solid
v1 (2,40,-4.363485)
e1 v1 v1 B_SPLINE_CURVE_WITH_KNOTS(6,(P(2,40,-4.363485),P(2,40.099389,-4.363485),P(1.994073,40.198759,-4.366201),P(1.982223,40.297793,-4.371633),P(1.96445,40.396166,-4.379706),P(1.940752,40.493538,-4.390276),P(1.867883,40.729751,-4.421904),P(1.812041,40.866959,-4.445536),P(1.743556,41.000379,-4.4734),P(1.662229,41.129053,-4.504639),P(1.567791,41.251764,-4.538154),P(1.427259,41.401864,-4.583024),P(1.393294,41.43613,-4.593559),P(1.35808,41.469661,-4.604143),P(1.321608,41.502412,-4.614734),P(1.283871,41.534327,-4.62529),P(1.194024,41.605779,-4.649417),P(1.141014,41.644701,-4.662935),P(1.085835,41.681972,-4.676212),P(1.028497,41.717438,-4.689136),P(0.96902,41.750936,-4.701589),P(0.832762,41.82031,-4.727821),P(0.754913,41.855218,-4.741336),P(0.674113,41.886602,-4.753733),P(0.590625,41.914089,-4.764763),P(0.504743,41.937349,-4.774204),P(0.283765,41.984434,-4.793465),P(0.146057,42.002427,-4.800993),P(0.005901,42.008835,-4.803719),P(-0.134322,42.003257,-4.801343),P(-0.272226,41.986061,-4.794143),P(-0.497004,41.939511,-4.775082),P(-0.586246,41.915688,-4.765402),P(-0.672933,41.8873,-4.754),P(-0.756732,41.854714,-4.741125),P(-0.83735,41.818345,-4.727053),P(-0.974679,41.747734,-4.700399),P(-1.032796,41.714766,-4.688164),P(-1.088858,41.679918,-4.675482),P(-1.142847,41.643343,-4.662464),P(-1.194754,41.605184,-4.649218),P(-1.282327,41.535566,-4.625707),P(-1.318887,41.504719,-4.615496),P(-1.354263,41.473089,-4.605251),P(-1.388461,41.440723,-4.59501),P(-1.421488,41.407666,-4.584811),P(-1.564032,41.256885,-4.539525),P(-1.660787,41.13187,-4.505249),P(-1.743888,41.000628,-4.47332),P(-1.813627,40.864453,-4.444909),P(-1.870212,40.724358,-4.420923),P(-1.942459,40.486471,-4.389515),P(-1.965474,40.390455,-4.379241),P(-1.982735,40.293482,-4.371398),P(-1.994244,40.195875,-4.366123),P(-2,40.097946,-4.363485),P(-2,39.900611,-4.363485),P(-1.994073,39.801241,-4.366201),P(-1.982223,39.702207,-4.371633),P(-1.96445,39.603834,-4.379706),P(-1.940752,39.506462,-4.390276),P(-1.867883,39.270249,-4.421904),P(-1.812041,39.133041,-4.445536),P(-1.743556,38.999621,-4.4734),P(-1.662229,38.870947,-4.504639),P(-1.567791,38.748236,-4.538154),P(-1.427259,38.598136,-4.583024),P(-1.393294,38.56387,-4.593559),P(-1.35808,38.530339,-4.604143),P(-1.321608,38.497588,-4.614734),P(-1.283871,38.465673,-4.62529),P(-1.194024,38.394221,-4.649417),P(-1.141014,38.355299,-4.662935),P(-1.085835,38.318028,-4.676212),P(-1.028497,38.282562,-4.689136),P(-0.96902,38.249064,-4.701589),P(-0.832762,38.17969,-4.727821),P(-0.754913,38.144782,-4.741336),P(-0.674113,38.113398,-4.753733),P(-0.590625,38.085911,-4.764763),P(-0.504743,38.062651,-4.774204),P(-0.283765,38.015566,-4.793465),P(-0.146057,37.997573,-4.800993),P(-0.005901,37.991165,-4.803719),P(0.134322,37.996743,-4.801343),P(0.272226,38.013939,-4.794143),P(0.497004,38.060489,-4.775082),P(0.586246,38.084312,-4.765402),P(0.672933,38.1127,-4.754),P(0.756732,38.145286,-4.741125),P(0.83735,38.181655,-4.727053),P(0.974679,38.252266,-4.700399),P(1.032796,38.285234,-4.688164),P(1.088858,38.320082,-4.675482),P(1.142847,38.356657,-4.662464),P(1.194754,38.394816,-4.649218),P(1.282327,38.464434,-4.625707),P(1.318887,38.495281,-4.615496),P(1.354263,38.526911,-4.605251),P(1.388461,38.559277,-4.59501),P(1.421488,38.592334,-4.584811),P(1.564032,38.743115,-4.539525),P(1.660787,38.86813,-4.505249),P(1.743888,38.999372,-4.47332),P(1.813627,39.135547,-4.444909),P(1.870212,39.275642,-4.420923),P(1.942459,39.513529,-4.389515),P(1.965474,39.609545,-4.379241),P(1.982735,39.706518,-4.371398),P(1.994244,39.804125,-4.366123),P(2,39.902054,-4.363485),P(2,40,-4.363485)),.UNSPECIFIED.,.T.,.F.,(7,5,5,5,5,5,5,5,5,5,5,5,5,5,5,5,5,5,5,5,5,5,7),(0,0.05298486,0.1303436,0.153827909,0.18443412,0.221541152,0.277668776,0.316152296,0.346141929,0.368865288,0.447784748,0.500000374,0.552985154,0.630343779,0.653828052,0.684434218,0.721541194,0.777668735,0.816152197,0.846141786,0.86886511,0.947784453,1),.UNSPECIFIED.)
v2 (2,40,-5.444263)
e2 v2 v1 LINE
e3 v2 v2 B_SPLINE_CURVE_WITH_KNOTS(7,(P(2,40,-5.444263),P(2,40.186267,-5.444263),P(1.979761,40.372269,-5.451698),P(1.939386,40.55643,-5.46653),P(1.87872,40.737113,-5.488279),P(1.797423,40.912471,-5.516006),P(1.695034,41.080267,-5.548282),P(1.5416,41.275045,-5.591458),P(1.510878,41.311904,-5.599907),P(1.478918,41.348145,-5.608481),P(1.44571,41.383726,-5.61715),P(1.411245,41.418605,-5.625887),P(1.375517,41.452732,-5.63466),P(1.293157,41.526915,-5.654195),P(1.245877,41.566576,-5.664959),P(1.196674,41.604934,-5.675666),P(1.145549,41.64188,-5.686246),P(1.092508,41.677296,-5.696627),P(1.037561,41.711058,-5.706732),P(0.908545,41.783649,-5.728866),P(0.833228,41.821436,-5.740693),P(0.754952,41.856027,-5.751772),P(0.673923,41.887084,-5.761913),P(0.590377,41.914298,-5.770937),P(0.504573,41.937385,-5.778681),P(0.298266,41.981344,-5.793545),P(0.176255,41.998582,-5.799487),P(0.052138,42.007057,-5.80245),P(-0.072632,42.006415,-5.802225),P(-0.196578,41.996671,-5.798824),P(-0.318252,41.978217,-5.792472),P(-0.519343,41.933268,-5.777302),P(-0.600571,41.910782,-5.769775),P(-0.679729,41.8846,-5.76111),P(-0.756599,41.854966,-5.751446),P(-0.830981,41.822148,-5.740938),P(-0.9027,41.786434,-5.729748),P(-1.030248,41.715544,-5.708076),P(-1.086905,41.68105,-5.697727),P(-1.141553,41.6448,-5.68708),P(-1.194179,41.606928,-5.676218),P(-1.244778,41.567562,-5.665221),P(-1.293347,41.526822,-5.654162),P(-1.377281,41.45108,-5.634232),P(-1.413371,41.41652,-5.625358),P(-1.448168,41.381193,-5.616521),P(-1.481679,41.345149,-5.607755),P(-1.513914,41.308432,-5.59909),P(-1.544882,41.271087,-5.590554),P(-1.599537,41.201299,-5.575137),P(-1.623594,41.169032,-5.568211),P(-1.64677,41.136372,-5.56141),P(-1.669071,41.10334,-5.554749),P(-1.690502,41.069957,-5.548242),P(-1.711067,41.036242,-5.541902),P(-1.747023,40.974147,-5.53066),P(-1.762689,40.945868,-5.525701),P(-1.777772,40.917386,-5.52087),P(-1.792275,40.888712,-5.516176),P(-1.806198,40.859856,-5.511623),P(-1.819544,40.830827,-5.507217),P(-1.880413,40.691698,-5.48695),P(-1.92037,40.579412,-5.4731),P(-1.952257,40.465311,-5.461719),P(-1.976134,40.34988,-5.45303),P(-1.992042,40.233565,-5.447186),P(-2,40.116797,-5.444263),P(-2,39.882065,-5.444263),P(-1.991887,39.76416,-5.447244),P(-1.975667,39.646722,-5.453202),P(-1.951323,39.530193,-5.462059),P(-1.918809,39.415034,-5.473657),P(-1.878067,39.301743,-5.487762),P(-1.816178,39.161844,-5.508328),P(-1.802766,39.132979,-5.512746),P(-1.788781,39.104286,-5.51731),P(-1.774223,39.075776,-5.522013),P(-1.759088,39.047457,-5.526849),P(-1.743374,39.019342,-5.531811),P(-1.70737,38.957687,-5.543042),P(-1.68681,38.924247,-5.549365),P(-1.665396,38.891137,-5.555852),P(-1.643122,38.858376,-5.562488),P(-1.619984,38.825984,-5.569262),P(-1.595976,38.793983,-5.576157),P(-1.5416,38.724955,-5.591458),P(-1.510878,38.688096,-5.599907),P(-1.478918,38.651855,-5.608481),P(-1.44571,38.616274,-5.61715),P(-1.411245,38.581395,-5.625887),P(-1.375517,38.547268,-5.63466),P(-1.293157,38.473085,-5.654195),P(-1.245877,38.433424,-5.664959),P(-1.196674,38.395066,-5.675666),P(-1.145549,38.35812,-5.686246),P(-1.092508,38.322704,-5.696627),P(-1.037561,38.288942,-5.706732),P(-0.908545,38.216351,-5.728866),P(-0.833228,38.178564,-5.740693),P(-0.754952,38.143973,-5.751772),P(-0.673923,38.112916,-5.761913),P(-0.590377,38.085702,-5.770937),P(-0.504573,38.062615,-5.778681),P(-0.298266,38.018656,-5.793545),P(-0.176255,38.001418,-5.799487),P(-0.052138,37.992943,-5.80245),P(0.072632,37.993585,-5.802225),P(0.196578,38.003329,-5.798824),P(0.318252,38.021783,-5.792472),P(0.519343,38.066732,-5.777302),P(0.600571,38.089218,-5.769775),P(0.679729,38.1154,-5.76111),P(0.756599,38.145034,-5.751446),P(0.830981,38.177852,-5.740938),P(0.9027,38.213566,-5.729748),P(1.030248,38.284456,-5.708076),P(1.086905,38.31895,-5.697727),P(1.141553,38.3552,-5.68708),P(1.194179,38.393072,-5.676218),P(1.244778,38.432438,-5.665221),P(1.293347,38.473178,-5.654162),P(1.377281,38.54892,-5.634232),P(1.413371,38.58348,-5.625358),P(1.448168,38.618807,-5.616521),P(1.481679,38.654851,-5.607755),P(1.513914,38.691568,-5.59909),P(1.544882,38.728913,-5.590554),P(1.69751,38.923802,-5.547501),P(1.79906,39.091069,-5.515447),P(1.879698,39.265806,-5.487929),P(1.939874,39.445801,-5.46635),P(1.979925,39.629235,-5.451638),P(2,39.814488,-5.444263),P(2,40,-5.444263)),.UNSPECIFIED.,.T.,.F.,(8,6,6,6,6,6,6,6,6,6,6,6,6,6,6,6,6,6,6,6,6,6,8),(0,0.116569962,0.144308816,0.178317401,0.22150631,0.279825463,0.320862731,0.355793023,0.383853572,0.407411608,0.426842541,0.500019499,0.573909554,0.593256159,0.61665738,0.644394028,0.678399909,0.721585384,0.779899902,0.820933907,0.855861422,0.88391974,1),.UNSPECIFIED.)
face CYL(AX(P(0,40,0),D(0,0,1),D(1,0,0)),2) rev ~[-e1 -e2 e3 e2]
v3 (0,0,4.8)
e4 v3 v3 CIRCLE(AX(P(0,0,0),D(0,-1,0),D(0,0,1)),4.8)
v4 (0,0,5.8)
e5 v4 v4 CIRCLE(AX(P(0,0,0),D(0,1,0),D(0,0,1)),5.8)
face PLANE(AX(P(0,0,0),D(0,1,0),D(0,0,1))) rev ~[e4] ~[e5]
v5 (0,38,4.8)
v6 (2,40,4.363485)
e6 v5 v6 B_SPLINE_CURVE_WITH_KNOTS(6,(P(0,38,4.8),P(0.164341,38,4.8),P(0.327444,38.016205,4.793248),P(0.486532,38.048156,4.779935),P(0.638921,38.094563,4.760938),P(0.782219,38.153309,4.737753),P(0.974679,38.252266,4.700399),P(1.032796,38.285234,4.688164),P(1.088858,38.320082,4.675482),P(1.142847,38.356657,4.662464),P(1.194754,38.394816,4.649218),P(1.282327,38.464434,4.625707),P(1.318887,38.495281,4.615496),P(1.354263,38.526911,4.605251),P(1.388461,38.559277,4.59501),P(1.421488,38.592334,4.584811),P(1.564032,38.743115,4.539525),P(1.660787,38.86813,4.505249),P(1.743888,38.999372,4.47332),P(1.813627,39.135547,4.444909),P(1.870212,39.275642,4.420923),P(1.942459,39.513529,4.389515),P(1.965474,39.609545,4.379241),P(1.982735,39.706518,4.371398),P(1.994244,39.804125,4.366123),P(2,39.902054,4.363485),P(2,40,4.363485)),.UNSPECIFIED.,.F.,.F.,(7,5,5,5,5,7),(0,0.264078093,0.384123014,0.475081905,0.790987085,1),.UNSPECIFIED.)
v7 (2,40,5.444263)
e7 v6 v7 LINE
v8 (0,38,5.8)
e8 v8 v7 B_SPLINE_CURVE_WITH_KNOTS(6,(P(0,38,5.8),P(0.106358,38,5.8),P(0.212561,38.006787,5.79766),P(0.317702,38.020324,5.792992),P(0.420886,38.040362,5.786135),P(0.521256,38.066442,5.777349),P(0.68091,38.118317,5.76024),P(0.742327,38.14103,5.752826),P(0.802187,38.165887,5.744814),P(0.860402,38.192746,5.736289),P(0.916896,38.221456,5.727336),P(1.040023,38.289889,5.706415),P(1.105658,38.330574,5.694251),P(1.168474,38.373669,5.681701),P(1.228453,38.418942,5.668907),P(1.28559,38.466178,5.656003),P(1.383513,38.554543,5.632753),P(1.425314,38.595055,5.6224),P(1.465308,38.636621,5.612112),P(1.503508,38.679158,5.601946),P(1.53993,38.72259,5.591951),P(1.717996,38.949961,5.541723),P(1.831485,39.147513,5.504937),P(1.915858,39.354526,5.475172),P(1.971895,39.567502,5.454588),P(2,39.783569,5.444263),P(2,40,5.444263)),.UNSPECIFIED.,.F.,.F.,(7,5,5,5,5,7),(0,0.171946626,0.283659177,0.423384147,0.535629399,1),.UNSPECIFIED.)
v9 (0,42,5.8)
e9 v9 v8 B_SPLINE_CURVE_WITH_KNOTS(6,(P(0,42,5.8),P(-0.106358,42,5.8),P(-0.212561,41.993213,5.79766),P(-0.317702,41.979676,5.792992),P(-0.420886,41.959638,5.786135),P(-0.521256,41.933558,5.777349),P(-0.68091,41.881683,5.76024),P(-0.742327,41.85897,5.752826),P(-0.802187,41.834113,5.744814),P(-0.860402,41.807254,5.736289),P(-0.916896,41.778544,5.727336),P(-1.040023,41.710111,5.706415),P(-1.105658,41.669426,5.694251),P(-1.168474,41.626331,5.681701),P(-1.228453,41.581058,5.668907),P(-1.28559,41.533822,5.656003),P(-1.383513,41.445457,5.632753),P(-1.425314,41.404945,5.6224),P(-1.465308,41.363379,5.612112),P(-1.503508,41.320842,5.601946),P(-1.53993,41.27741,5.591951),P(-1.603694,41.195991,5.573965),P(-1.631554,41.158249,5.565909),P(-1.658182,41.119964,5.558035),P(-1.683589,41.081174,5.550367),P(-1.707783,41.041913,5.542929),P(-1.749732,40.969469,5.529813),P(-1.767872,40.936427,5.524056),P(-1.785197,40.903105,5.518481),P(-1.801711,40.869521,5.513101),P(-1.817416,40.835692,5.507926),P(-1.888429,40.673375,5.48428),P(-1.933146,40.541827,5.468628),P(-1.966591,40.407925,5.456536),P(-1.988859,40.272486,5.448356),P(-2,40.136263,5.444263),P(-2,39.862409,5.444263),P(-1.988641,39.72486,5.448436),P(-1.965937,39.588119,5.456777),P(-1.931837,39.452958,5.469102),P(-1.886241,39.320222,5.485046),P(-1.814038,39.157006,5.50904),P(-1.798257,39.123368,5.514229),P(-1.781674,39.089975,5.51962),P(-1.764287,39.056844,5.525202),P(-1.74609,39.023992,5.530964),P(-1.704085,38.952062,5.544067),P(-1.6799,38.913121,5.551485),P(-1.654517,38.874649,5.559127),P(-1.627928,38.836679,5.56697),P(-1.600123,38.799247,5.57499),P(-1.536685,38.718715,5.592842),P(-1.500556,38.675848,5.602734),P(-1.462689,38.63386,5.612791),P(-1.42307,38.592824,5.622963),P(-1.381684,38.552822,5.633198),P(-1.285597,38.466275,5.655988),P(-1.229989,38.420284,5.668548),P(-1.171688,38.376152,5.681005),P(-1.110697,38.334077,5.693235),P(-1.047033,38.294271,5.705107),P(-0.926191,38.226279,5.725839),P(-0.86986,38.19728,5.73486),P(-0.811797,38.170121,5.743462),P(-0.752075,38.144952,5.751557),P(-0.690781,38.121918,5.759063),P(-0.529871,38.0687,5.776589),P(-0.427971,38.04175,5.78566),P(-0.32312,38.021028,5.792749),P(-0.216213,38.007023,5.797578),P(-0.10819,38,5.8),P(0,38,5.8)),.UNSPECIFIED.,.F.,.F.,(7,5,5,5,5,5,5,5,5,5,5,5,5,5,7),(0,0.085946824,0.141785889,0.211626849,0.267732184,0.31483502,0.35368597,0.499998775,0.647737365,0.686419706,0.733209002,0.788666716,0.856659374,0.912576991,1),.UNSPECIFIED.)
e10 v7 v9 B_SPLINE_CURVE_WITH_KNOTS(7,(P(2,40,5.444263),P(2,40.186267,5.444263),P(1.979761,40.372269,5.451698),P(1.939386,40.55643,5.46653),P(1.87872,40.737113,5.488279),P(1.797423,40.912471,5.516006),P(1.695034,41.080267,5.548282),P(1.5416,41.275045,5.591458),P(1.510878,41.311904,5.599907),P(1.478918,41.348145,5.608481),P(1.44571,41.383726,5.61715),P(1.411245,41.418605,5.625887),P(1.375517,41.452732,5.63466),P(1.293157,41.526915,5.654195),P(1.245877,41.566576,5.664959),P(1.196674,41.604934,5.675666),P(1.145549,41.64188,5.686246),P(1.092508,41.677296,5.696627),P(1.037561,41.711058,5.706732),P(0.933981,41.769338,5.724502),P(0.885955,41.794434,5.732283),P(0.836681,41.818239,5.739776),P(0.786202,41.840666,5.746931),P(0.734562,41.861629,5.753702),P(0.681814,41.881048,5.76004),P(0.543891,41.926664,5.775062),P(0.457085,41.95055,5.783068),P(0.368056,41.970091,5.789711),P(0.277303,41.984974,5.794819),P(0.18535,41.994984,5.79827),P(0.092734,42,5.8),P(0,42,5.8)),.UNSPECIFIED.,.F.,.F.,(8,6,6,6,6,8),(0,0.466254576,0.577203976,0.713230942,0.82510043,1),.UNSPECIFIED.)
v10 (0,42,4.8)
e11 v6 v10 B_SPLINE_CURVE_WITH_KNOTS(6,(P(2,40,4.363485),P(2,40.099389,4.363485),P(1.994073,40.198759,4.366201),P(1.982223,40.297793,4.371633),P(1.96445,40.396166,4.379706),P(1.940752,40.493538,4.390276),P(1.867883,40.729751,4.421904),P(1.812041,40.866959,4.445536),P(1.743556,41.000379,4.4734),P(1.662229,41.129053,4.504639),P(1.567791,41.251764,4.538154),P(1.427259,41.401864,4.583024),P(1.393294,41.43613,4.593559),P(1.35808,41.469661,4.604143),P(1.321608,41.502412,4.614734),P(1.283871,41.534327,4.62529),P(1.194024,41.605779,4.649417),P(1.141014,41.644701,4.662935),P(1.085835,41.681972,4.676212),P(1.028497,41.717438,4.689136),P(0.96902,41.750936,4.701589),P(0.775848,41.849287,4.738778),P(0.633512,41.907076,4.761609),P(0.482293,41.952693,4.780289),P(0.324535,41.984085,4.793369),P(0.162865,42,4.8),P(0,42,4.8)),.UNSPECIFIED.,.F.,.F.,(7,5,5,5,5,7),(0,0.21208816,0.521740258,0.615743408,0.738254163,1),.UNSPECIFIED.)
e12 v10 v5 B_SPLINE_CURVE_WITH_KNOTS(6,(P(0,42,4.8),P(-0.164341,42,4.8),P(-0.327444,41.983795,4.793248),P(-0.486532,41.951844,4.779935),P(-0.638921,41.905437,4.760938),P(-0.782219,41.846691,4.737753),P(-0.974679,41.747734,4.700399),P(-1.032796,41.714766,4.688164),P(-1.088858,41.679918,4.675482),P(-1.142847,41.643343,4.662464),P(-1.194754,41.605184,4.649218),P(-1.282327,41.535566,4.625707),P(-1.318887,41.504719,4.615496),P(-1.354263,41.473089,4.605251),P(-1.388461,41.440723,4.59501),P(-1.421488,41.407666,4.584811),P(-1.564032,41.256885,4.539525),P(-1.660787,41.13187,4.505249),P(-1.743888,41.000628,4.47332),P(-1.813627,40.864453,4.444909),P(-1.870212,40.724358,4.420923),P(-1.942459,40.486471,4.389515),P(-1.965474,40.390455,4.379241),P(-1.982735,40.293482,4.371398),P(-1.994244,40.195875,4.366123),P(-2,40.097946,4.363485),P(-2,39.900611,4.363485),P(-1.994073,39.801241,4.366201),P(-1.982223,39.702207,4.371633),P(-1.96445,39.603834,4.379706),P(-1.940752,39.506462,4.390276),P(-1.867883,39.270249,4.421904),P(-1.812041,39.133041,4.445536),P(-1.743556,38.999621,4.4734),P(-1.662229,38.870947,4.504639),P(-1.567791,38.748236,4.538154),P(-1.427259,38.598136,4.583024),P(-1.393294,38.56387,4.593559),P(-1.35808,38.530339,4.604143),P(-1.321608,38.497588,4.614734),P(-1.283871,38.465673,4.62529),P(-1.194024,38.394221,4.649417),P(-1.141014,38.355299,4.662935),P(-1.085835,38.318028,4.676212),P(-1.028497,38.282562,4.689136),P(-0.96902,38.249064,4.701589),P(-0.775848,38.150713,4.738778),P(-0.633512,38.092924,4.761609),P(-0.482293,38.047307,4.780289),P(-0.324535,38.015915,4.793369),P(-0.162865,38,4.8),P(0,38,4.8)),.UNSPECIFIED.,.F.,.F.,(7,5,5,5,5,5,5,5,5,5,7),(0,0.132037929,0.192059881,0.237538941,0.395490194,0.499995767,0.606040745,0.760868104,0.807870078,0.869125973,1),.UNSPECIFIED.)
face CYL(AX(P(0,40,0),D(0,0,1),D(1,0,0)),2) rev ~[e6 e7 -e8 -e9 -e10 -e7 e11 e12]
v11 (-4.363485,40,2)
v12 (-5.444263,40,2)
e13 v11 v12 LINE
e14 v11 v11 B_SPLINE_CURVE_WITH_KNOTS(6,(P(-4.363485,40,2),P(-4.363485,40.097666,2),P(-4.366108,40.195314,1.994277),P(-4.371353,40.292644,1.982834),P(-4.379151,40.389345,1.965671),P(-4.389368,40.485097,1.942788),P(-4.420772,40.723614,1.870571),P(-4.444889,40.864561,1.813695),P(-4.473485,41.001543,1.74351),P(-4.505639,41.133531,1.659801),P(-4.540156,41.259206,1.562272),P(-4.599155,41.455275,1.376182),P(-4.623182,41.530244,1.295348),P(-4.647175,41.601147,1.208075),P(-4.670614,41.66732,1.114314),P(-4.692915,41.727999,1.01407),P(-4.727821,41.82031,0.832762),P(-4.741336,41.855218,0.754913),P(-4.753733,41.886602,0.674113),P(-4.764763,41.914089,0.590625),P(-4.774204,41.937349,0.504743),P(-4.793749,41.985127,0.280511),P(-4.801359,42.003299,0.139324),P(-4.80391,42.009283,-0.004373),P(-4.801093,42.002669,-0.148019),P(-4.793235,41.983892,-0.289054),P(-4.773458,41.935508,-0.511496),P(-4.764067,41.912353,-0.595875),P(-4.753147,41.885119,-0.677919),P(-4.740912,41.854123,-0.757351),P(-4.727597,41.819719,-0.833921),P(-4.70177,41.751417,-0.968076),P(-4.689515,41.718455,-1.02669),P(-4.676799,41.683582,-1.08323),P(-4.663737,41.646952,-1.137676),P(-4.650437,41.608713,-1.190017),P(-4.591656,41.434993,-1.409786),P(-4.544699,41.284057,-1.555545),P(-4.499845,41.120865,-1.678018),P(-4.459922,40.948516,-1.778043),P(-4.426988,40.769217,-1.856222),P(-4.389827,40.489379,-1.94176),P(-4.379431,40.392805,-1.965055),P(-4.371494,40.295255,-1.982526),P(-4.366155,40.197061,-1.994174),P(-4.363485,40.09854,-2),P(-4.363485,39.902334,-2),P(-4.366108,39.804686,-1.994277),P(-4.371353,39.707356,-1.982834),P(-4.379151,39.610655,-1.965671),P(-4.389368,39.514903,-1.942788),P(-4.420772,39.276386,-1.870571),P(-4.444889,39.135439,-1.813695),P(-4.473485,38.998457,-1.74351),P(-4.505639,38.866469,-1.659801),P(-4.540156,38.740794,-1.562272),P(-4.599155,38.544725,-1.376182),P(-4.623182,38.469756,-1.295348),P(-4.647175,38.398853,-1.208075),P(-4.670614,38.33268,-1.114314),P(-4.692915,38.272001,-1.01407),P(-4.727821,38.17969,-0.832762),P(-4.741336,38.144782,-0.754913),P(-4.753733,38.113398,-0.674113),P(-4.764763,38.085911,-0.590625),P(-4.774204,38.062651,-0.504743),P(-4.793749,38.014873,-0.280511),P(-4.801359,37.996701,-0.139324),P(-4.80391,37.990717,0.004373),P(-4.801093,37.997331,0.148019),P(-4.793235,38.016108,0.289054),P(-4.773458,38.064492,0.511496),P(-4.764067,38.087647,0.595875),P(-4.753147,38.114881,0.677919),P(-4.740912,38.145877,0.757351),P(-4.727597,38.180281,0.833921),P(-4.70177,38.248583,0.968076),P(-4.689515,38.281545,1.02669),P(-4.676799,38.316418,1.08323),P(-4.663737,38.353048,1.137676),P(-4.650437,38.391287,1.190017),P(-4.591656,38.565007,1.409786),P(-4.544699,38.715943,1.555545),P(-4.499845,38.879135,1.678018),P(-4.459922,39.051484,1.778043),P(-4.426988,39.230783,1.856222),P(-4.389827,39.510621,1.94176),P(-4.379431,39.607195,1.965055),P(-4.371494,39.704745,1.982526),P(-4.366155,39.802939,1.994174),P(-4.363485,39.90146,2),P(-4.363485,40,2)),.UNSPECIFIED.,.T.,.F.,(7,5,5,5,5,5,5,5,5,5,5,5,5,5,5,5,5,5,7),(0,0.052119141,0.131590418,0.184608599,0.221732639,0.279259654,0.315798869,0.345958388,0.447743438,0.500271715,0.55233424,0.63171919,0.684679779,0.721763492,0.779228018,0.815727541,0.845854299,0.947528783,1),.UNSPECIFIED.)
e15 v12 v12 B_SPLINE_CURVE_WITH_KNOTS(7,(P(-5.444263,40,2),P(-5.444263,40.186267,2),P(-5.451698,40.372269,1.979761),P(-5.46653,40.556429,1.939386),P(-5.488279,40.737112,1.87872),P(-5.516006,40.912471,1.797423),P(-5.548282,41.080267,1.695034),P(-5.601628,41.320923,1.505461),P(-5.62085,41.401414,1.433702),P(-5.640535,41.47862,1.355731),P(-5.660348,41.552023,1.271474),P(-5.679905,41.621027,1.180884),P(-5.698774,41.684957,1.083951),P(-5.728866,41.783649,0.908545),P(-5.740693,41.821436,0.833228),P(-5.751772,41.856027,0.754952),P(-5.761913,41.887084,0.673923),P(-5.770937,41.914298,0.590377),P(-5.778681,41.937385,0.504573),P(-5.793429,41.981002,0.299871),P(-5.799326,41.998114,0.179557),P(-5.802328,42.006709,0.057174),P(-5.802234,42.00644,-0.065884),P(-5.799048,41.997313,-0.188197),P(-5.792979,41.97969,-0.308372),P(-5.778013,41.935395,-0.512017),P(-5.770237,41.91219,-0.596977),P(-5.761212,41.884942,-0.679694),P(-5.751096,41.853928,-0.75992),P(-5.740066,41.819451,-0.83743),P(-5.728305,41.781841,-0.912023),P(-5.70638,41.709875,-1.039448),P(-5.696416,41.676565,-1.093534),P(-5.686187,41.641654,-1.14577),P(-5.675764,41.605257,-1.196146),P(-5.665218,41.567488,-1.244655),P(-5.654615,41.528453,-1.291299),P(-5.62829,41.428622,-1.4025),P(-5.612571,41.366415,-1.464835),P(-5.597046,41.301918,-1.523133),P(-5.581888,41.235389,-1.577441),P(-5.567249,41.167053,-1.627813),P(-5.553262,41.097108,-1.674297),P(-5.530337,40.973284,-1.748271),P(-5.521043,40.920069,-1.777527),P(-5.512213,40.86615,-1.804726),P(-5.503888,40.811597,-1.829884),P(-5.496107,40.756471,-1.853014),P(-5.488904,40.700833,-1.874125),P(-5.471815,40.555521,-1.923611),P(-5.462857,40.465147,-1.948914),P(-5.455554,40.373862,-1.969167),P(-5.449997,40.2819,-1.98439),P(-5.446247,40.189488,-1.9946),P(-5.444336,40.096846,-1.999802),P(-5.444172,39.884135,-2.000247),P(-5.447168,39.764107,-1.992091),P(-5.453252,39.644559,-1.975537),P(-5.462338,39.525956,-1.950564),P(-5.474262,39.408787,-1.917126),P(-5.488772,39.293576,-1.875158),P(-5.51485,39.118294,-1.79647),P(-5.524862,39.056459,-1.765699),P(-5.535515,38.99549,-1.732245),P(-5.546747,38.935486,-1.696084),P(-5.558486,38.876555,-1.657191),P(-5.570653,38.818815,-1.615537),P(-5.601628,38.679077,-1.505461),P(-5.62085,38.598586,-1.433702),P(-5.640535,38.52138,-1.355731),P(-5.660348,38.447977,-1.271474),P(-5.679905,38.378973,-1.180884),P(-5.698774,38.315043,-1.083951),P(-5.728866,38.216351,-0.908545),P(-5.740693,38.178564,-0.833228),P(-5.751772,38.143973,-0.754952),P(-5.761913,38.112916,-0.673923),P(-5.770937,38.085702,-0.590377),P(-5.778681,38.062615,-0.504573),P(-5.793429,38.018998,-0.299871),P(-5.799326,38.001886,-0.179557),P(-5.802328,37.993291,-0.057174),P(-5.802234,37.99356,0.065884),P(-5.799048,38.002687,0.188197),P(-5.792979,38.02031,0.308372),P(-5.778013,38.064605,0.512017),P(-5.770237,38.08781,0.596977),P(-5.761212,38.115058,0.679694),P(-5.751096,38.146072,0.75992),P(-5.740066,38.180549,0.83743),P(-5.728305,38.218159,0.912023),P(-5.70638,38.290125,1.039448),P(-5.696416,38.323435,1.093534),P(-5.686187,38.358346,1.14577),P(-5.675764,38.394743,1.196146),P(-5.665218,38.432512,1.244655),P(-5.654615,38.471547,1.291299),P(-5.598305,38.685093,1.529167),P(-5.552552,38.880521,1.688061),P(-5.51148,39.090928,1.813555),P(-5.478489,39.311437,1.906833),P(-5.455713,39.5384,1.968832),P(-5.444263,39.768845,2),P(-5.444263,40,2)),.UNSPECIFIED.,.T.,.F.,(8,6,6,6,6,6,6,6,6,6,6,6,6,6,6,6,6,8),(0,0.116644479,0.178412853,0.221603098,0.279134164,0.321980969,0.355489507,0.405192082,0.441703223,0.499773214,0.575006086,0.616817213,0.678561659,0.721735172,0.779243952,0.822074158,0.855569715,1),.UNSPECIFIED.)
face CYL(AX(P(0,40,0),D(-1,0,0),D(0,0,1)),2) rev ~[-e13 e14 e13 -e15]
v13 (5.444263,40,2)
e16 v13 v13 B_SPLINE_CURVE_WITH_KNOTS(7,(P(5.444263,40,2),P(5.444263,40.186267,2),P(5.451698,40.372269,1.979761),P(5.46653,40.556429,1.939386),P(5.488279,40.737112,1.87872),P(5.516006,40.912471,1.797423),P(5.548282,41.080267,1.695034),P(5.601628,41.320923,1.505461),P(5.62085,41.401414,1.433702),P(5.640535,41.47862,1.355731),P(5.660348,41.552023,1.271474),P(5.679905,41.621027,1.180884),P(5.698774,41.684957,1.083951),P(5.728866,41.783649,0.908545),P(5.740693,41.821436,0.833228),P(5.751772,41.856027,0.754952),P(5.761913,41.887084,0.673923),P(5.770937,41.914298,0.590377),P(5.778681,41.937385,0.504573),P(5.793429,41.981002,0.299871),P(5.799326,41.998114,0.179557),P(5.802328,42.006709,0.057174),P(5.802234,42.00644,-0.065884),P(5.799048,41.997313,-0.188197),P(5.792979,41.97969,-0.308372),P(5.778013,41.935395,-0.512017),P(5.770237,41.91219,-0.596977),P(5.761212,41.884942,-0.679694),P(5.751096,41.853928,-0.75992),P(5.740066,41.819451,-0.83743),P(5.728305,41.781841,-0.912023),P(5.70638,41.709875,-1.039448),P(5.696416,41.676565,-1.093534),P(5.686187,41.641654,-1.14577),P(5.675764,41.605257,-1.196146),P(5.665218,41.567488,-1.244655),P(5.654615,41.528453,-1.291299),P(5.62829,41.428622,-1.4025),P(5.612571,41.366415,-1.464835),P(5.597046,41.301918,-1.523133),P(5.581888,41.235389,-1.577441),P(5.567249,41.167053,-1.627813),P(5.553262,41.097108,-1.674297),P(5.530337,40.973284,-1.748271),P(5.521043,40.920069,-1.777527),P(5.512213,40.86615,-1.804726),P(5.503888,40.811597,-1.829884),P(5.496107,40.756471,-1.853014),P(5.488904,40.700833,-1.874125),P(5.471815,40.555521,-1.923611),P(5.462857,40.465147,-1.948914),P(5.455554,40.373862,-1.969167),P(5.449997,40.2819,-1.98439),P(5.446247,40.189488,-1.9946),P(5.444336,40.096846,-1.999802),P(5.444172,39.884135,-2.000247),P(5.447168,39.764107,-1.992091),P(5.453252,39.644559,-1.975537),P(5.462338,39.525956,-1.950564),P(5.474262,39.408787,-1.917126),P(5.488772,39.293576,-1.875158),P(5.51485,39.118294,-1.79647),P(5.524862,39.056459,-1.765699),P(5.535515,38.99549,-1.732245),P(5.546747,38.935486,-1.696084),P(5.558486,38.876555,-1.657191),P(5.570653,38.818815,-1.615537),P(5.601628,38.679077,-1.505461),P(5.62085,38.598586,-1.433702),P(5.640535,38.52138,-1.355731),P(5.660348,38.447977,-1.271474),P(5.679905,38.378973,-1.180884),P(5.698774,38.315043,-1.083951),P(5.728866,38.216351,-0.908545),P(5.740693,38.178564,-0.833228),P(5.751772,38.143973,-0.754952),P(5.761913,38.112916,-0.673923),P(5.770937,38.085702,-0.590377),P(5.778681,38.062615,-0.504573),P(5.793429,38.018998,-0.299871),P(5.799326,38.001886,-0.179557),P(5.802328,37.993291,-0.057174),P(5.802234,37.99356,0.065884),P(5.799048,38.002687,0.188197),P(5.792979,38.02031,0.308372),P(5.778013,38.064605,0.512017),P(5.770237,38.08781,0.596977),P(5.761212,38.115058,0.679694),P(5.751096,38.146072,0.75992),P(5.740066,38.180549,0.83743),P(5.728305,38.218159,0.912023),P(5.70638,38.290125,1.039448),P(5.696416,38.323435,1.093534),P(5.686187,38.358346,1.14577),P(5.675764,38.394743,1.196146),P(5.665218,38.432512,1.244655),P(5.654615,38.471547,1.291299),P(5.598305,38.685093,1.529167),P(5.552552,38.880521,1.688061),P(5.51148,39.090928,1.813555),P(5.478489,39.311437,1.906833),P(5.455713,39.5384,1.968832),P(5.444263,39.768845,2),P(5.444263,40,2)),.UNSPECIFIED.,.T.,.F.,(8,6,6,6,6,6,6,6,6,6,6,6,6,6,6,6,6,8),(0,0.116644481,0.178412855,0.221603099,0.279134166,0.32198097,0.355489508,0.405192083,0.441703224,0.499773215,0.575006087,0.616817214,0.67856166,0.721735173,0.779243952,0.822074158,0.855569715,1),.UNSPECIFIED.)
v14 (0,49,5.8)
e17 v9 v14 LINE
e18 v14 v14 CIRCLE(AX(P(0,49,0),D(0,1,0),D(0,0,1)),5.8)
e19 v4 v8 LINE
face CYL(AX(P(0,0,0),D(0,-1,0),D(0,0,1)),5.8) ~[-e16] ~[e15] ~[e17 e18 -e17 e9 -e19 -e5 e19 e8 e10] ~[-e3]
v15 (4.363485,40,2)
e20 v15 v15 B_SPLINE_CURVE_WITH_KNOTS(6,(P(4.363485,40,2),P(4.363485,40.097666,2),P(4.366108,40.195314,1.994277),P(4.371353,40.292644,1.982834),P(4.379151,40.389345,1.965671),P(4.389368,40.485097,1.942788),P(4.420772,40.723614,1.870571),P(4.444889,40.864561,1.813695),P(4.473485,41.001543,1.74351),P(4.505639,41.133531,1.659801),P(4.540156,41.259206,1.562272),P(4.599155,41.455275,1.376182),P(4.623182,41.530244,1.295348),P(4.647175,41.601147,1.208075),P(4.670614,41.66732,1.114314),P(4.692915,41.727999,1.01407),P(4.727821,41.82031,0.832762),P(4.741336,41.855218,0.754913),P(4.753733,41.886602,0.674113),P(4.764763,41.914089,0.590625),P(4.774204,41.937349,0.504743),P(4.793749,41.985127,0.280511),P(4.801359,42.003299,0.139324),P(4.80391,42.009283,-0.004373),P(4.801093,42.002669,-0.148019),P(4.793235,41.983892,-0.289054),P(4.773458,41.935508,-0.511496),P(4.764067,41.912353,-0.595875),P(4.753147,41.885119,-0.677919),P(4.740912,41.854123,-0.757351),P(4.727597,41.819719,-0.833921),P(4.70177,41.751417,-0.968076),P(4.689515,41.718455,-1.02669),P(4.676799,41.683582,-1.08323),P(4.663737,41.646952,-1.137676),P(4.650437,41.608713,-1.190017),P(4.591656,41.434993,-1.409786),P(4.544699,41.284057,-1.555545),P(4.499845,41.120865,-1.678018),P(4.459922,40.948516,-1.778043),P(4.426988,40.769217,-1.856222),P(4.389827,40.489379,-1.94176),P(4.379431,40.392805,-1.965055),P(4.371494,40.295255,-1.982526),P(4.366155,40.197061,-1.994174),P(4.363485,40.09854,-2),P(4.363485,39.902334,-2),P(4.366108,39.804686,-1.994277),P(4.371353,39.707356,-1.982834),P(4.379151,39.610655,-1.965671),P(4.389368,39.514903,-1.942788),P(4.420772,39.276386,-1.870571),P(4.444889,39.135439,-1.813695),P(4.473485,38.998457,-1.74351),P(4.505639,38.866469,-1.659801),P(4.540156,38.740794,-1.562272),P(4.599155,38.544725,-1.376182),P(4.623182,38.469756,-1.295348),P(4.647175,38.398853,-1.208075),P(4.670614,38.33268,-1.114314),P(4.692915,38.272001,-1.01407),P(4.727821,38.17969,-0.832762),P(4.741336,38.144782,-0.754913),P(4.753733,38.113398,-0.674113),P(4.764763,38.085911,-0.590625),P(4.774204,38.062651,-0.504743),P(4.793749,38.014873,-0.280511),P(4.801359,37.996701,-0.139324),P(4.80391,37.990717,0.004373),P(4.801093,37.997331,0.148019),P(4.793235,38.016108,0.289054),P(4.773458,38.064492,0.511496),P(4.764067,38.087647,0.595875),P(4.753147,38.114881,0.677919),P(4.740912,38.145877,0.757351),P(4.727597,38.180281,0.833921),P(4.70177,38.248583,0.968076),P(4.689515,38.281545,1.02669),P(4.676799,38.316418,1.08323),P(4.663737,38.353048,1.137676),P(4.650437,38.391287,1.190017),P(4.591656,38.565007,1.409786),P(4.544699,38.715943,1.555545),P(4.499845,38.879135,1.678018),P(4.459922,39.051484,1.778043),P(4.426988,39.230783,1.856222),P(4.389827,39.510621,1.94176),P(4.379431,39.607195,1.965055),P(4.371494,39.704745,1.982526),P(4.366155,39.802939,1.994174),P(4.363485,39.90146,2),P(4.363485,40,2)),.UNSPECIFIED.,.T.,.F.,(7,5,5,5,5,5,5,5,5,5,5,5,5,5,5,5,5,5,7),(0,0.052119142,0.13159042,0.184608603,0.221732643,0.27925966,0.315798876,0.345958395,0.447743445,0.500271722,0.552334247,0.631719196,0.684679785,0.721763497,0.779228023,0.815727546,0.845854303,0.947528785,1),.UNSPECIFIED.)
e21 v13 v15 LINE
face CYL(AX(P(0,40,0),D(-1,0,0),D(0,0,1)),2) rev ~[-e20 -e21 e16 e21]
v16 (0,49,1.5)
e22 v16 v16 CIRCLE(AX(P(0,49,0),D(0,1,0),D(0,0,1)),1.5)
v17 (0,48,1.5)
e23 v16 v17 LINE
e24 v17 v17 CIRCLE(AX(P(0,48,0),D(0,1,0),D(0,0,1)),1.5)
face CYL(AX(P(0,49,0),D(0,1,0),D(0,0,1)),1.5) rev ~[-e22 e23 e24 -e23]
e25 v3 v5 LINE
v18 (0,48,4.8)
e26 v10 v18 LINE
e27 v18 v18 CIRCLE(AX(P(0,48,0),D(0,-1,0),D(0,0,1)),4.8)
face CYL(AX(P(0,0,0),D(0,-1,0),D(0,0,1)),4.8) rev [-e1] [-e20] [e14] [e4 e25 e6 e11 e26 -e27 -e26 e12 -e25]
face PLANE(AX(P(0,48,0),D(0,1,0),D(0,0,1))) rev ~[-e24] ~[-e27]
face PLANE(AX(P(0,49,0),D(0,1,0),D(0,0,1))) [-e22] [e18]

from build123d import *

# Parameters (mm, degrees)
SKETCH1_R           = 5.8
BOSS_EXTRUDE1_DEPTH = 49
SHELL2_T            = -1
SKETCH5_R           = 2
CUT_EXTRUDE1_DEPTH  = 50.681787407
CIRPATTERN1_COUNT   = 2
CIRPATTERN1_ANGLE   = 90
CUT_EXTRUDE2_REACH  = 51.682
SKETCH6_R           = 1.5


with BuildPart() as part:
    # Sketch1 → Boss-Extrude1 (new body)
    with BuildSketch(Plane(origin=(0, 0, 0), x_dir=(1, 0, 0), z_dir=(0, 1, 0))):
        with Locations(Location((0, 0, 0), (0, 0, 270))):
            Circle(SKETCH1_R)
    extrude(amount=BOSS_EXTRUDE1_DEPTH)

    # Shell2
    shell2_openings = [part.faces().sort_by_distance(p)[0] for p in [
        (0, 0, 0),
    ]]
    offset(amount=SHELL2_T, openings=shell2_openings, kind=Kind.INTERSECTION)

    # Sketch5 → Cut-Extrude1 (cut, symmetric)
    with BuildSketch(Plane.XY):
        with Locations((0, 40)):
            Circle(SKETCH5_R)
    cut_extrude1 = extrude(amount=CUT_EXTRUDE1_DEPTH, both=True, mode=Mode.SUBTRACT)

    # CirPattern1: Cut-Extrude1 ×2 about axis
    cirpattern1_axis = Axis((0, 49, 0), (0, -1, 0))
    for i in range(1, CIRPATTERN1_COUNT):
        add(cut_extrude1.rotate(cirpattern1_axis, i * CIRPATTERN1_ANGLE / (CIRPATTERN1_COUNT - 1)), mode=Mode.SUBTRACT)

    # Sketch6 → Cut-Extrude2 (cut, up to next)
    with BuildSketch(Plane(origin=(0, 49, 0), x_dir=(1, 0, 0), z_dir=(0, 1, 0)), mode=Mode.PRIVATE) as cut_extrude2_sk1:
        with Locations(Location((0, 0, 0), (0, 0, 270))):
            Circle(SKETCH6_R)
    cut_extrude2_tool1 = extrude(cut_extrude2_sk1.sketch, amount=-CUT_EXTRUDE2_REACH, mode=Mode.PRIVATE) & part.part
    add(cut_extrude2_tool1.solids().sort_by_distance((0, 49, 0))[0], mode=Mode.SUBTRACT)


solid = part.part
